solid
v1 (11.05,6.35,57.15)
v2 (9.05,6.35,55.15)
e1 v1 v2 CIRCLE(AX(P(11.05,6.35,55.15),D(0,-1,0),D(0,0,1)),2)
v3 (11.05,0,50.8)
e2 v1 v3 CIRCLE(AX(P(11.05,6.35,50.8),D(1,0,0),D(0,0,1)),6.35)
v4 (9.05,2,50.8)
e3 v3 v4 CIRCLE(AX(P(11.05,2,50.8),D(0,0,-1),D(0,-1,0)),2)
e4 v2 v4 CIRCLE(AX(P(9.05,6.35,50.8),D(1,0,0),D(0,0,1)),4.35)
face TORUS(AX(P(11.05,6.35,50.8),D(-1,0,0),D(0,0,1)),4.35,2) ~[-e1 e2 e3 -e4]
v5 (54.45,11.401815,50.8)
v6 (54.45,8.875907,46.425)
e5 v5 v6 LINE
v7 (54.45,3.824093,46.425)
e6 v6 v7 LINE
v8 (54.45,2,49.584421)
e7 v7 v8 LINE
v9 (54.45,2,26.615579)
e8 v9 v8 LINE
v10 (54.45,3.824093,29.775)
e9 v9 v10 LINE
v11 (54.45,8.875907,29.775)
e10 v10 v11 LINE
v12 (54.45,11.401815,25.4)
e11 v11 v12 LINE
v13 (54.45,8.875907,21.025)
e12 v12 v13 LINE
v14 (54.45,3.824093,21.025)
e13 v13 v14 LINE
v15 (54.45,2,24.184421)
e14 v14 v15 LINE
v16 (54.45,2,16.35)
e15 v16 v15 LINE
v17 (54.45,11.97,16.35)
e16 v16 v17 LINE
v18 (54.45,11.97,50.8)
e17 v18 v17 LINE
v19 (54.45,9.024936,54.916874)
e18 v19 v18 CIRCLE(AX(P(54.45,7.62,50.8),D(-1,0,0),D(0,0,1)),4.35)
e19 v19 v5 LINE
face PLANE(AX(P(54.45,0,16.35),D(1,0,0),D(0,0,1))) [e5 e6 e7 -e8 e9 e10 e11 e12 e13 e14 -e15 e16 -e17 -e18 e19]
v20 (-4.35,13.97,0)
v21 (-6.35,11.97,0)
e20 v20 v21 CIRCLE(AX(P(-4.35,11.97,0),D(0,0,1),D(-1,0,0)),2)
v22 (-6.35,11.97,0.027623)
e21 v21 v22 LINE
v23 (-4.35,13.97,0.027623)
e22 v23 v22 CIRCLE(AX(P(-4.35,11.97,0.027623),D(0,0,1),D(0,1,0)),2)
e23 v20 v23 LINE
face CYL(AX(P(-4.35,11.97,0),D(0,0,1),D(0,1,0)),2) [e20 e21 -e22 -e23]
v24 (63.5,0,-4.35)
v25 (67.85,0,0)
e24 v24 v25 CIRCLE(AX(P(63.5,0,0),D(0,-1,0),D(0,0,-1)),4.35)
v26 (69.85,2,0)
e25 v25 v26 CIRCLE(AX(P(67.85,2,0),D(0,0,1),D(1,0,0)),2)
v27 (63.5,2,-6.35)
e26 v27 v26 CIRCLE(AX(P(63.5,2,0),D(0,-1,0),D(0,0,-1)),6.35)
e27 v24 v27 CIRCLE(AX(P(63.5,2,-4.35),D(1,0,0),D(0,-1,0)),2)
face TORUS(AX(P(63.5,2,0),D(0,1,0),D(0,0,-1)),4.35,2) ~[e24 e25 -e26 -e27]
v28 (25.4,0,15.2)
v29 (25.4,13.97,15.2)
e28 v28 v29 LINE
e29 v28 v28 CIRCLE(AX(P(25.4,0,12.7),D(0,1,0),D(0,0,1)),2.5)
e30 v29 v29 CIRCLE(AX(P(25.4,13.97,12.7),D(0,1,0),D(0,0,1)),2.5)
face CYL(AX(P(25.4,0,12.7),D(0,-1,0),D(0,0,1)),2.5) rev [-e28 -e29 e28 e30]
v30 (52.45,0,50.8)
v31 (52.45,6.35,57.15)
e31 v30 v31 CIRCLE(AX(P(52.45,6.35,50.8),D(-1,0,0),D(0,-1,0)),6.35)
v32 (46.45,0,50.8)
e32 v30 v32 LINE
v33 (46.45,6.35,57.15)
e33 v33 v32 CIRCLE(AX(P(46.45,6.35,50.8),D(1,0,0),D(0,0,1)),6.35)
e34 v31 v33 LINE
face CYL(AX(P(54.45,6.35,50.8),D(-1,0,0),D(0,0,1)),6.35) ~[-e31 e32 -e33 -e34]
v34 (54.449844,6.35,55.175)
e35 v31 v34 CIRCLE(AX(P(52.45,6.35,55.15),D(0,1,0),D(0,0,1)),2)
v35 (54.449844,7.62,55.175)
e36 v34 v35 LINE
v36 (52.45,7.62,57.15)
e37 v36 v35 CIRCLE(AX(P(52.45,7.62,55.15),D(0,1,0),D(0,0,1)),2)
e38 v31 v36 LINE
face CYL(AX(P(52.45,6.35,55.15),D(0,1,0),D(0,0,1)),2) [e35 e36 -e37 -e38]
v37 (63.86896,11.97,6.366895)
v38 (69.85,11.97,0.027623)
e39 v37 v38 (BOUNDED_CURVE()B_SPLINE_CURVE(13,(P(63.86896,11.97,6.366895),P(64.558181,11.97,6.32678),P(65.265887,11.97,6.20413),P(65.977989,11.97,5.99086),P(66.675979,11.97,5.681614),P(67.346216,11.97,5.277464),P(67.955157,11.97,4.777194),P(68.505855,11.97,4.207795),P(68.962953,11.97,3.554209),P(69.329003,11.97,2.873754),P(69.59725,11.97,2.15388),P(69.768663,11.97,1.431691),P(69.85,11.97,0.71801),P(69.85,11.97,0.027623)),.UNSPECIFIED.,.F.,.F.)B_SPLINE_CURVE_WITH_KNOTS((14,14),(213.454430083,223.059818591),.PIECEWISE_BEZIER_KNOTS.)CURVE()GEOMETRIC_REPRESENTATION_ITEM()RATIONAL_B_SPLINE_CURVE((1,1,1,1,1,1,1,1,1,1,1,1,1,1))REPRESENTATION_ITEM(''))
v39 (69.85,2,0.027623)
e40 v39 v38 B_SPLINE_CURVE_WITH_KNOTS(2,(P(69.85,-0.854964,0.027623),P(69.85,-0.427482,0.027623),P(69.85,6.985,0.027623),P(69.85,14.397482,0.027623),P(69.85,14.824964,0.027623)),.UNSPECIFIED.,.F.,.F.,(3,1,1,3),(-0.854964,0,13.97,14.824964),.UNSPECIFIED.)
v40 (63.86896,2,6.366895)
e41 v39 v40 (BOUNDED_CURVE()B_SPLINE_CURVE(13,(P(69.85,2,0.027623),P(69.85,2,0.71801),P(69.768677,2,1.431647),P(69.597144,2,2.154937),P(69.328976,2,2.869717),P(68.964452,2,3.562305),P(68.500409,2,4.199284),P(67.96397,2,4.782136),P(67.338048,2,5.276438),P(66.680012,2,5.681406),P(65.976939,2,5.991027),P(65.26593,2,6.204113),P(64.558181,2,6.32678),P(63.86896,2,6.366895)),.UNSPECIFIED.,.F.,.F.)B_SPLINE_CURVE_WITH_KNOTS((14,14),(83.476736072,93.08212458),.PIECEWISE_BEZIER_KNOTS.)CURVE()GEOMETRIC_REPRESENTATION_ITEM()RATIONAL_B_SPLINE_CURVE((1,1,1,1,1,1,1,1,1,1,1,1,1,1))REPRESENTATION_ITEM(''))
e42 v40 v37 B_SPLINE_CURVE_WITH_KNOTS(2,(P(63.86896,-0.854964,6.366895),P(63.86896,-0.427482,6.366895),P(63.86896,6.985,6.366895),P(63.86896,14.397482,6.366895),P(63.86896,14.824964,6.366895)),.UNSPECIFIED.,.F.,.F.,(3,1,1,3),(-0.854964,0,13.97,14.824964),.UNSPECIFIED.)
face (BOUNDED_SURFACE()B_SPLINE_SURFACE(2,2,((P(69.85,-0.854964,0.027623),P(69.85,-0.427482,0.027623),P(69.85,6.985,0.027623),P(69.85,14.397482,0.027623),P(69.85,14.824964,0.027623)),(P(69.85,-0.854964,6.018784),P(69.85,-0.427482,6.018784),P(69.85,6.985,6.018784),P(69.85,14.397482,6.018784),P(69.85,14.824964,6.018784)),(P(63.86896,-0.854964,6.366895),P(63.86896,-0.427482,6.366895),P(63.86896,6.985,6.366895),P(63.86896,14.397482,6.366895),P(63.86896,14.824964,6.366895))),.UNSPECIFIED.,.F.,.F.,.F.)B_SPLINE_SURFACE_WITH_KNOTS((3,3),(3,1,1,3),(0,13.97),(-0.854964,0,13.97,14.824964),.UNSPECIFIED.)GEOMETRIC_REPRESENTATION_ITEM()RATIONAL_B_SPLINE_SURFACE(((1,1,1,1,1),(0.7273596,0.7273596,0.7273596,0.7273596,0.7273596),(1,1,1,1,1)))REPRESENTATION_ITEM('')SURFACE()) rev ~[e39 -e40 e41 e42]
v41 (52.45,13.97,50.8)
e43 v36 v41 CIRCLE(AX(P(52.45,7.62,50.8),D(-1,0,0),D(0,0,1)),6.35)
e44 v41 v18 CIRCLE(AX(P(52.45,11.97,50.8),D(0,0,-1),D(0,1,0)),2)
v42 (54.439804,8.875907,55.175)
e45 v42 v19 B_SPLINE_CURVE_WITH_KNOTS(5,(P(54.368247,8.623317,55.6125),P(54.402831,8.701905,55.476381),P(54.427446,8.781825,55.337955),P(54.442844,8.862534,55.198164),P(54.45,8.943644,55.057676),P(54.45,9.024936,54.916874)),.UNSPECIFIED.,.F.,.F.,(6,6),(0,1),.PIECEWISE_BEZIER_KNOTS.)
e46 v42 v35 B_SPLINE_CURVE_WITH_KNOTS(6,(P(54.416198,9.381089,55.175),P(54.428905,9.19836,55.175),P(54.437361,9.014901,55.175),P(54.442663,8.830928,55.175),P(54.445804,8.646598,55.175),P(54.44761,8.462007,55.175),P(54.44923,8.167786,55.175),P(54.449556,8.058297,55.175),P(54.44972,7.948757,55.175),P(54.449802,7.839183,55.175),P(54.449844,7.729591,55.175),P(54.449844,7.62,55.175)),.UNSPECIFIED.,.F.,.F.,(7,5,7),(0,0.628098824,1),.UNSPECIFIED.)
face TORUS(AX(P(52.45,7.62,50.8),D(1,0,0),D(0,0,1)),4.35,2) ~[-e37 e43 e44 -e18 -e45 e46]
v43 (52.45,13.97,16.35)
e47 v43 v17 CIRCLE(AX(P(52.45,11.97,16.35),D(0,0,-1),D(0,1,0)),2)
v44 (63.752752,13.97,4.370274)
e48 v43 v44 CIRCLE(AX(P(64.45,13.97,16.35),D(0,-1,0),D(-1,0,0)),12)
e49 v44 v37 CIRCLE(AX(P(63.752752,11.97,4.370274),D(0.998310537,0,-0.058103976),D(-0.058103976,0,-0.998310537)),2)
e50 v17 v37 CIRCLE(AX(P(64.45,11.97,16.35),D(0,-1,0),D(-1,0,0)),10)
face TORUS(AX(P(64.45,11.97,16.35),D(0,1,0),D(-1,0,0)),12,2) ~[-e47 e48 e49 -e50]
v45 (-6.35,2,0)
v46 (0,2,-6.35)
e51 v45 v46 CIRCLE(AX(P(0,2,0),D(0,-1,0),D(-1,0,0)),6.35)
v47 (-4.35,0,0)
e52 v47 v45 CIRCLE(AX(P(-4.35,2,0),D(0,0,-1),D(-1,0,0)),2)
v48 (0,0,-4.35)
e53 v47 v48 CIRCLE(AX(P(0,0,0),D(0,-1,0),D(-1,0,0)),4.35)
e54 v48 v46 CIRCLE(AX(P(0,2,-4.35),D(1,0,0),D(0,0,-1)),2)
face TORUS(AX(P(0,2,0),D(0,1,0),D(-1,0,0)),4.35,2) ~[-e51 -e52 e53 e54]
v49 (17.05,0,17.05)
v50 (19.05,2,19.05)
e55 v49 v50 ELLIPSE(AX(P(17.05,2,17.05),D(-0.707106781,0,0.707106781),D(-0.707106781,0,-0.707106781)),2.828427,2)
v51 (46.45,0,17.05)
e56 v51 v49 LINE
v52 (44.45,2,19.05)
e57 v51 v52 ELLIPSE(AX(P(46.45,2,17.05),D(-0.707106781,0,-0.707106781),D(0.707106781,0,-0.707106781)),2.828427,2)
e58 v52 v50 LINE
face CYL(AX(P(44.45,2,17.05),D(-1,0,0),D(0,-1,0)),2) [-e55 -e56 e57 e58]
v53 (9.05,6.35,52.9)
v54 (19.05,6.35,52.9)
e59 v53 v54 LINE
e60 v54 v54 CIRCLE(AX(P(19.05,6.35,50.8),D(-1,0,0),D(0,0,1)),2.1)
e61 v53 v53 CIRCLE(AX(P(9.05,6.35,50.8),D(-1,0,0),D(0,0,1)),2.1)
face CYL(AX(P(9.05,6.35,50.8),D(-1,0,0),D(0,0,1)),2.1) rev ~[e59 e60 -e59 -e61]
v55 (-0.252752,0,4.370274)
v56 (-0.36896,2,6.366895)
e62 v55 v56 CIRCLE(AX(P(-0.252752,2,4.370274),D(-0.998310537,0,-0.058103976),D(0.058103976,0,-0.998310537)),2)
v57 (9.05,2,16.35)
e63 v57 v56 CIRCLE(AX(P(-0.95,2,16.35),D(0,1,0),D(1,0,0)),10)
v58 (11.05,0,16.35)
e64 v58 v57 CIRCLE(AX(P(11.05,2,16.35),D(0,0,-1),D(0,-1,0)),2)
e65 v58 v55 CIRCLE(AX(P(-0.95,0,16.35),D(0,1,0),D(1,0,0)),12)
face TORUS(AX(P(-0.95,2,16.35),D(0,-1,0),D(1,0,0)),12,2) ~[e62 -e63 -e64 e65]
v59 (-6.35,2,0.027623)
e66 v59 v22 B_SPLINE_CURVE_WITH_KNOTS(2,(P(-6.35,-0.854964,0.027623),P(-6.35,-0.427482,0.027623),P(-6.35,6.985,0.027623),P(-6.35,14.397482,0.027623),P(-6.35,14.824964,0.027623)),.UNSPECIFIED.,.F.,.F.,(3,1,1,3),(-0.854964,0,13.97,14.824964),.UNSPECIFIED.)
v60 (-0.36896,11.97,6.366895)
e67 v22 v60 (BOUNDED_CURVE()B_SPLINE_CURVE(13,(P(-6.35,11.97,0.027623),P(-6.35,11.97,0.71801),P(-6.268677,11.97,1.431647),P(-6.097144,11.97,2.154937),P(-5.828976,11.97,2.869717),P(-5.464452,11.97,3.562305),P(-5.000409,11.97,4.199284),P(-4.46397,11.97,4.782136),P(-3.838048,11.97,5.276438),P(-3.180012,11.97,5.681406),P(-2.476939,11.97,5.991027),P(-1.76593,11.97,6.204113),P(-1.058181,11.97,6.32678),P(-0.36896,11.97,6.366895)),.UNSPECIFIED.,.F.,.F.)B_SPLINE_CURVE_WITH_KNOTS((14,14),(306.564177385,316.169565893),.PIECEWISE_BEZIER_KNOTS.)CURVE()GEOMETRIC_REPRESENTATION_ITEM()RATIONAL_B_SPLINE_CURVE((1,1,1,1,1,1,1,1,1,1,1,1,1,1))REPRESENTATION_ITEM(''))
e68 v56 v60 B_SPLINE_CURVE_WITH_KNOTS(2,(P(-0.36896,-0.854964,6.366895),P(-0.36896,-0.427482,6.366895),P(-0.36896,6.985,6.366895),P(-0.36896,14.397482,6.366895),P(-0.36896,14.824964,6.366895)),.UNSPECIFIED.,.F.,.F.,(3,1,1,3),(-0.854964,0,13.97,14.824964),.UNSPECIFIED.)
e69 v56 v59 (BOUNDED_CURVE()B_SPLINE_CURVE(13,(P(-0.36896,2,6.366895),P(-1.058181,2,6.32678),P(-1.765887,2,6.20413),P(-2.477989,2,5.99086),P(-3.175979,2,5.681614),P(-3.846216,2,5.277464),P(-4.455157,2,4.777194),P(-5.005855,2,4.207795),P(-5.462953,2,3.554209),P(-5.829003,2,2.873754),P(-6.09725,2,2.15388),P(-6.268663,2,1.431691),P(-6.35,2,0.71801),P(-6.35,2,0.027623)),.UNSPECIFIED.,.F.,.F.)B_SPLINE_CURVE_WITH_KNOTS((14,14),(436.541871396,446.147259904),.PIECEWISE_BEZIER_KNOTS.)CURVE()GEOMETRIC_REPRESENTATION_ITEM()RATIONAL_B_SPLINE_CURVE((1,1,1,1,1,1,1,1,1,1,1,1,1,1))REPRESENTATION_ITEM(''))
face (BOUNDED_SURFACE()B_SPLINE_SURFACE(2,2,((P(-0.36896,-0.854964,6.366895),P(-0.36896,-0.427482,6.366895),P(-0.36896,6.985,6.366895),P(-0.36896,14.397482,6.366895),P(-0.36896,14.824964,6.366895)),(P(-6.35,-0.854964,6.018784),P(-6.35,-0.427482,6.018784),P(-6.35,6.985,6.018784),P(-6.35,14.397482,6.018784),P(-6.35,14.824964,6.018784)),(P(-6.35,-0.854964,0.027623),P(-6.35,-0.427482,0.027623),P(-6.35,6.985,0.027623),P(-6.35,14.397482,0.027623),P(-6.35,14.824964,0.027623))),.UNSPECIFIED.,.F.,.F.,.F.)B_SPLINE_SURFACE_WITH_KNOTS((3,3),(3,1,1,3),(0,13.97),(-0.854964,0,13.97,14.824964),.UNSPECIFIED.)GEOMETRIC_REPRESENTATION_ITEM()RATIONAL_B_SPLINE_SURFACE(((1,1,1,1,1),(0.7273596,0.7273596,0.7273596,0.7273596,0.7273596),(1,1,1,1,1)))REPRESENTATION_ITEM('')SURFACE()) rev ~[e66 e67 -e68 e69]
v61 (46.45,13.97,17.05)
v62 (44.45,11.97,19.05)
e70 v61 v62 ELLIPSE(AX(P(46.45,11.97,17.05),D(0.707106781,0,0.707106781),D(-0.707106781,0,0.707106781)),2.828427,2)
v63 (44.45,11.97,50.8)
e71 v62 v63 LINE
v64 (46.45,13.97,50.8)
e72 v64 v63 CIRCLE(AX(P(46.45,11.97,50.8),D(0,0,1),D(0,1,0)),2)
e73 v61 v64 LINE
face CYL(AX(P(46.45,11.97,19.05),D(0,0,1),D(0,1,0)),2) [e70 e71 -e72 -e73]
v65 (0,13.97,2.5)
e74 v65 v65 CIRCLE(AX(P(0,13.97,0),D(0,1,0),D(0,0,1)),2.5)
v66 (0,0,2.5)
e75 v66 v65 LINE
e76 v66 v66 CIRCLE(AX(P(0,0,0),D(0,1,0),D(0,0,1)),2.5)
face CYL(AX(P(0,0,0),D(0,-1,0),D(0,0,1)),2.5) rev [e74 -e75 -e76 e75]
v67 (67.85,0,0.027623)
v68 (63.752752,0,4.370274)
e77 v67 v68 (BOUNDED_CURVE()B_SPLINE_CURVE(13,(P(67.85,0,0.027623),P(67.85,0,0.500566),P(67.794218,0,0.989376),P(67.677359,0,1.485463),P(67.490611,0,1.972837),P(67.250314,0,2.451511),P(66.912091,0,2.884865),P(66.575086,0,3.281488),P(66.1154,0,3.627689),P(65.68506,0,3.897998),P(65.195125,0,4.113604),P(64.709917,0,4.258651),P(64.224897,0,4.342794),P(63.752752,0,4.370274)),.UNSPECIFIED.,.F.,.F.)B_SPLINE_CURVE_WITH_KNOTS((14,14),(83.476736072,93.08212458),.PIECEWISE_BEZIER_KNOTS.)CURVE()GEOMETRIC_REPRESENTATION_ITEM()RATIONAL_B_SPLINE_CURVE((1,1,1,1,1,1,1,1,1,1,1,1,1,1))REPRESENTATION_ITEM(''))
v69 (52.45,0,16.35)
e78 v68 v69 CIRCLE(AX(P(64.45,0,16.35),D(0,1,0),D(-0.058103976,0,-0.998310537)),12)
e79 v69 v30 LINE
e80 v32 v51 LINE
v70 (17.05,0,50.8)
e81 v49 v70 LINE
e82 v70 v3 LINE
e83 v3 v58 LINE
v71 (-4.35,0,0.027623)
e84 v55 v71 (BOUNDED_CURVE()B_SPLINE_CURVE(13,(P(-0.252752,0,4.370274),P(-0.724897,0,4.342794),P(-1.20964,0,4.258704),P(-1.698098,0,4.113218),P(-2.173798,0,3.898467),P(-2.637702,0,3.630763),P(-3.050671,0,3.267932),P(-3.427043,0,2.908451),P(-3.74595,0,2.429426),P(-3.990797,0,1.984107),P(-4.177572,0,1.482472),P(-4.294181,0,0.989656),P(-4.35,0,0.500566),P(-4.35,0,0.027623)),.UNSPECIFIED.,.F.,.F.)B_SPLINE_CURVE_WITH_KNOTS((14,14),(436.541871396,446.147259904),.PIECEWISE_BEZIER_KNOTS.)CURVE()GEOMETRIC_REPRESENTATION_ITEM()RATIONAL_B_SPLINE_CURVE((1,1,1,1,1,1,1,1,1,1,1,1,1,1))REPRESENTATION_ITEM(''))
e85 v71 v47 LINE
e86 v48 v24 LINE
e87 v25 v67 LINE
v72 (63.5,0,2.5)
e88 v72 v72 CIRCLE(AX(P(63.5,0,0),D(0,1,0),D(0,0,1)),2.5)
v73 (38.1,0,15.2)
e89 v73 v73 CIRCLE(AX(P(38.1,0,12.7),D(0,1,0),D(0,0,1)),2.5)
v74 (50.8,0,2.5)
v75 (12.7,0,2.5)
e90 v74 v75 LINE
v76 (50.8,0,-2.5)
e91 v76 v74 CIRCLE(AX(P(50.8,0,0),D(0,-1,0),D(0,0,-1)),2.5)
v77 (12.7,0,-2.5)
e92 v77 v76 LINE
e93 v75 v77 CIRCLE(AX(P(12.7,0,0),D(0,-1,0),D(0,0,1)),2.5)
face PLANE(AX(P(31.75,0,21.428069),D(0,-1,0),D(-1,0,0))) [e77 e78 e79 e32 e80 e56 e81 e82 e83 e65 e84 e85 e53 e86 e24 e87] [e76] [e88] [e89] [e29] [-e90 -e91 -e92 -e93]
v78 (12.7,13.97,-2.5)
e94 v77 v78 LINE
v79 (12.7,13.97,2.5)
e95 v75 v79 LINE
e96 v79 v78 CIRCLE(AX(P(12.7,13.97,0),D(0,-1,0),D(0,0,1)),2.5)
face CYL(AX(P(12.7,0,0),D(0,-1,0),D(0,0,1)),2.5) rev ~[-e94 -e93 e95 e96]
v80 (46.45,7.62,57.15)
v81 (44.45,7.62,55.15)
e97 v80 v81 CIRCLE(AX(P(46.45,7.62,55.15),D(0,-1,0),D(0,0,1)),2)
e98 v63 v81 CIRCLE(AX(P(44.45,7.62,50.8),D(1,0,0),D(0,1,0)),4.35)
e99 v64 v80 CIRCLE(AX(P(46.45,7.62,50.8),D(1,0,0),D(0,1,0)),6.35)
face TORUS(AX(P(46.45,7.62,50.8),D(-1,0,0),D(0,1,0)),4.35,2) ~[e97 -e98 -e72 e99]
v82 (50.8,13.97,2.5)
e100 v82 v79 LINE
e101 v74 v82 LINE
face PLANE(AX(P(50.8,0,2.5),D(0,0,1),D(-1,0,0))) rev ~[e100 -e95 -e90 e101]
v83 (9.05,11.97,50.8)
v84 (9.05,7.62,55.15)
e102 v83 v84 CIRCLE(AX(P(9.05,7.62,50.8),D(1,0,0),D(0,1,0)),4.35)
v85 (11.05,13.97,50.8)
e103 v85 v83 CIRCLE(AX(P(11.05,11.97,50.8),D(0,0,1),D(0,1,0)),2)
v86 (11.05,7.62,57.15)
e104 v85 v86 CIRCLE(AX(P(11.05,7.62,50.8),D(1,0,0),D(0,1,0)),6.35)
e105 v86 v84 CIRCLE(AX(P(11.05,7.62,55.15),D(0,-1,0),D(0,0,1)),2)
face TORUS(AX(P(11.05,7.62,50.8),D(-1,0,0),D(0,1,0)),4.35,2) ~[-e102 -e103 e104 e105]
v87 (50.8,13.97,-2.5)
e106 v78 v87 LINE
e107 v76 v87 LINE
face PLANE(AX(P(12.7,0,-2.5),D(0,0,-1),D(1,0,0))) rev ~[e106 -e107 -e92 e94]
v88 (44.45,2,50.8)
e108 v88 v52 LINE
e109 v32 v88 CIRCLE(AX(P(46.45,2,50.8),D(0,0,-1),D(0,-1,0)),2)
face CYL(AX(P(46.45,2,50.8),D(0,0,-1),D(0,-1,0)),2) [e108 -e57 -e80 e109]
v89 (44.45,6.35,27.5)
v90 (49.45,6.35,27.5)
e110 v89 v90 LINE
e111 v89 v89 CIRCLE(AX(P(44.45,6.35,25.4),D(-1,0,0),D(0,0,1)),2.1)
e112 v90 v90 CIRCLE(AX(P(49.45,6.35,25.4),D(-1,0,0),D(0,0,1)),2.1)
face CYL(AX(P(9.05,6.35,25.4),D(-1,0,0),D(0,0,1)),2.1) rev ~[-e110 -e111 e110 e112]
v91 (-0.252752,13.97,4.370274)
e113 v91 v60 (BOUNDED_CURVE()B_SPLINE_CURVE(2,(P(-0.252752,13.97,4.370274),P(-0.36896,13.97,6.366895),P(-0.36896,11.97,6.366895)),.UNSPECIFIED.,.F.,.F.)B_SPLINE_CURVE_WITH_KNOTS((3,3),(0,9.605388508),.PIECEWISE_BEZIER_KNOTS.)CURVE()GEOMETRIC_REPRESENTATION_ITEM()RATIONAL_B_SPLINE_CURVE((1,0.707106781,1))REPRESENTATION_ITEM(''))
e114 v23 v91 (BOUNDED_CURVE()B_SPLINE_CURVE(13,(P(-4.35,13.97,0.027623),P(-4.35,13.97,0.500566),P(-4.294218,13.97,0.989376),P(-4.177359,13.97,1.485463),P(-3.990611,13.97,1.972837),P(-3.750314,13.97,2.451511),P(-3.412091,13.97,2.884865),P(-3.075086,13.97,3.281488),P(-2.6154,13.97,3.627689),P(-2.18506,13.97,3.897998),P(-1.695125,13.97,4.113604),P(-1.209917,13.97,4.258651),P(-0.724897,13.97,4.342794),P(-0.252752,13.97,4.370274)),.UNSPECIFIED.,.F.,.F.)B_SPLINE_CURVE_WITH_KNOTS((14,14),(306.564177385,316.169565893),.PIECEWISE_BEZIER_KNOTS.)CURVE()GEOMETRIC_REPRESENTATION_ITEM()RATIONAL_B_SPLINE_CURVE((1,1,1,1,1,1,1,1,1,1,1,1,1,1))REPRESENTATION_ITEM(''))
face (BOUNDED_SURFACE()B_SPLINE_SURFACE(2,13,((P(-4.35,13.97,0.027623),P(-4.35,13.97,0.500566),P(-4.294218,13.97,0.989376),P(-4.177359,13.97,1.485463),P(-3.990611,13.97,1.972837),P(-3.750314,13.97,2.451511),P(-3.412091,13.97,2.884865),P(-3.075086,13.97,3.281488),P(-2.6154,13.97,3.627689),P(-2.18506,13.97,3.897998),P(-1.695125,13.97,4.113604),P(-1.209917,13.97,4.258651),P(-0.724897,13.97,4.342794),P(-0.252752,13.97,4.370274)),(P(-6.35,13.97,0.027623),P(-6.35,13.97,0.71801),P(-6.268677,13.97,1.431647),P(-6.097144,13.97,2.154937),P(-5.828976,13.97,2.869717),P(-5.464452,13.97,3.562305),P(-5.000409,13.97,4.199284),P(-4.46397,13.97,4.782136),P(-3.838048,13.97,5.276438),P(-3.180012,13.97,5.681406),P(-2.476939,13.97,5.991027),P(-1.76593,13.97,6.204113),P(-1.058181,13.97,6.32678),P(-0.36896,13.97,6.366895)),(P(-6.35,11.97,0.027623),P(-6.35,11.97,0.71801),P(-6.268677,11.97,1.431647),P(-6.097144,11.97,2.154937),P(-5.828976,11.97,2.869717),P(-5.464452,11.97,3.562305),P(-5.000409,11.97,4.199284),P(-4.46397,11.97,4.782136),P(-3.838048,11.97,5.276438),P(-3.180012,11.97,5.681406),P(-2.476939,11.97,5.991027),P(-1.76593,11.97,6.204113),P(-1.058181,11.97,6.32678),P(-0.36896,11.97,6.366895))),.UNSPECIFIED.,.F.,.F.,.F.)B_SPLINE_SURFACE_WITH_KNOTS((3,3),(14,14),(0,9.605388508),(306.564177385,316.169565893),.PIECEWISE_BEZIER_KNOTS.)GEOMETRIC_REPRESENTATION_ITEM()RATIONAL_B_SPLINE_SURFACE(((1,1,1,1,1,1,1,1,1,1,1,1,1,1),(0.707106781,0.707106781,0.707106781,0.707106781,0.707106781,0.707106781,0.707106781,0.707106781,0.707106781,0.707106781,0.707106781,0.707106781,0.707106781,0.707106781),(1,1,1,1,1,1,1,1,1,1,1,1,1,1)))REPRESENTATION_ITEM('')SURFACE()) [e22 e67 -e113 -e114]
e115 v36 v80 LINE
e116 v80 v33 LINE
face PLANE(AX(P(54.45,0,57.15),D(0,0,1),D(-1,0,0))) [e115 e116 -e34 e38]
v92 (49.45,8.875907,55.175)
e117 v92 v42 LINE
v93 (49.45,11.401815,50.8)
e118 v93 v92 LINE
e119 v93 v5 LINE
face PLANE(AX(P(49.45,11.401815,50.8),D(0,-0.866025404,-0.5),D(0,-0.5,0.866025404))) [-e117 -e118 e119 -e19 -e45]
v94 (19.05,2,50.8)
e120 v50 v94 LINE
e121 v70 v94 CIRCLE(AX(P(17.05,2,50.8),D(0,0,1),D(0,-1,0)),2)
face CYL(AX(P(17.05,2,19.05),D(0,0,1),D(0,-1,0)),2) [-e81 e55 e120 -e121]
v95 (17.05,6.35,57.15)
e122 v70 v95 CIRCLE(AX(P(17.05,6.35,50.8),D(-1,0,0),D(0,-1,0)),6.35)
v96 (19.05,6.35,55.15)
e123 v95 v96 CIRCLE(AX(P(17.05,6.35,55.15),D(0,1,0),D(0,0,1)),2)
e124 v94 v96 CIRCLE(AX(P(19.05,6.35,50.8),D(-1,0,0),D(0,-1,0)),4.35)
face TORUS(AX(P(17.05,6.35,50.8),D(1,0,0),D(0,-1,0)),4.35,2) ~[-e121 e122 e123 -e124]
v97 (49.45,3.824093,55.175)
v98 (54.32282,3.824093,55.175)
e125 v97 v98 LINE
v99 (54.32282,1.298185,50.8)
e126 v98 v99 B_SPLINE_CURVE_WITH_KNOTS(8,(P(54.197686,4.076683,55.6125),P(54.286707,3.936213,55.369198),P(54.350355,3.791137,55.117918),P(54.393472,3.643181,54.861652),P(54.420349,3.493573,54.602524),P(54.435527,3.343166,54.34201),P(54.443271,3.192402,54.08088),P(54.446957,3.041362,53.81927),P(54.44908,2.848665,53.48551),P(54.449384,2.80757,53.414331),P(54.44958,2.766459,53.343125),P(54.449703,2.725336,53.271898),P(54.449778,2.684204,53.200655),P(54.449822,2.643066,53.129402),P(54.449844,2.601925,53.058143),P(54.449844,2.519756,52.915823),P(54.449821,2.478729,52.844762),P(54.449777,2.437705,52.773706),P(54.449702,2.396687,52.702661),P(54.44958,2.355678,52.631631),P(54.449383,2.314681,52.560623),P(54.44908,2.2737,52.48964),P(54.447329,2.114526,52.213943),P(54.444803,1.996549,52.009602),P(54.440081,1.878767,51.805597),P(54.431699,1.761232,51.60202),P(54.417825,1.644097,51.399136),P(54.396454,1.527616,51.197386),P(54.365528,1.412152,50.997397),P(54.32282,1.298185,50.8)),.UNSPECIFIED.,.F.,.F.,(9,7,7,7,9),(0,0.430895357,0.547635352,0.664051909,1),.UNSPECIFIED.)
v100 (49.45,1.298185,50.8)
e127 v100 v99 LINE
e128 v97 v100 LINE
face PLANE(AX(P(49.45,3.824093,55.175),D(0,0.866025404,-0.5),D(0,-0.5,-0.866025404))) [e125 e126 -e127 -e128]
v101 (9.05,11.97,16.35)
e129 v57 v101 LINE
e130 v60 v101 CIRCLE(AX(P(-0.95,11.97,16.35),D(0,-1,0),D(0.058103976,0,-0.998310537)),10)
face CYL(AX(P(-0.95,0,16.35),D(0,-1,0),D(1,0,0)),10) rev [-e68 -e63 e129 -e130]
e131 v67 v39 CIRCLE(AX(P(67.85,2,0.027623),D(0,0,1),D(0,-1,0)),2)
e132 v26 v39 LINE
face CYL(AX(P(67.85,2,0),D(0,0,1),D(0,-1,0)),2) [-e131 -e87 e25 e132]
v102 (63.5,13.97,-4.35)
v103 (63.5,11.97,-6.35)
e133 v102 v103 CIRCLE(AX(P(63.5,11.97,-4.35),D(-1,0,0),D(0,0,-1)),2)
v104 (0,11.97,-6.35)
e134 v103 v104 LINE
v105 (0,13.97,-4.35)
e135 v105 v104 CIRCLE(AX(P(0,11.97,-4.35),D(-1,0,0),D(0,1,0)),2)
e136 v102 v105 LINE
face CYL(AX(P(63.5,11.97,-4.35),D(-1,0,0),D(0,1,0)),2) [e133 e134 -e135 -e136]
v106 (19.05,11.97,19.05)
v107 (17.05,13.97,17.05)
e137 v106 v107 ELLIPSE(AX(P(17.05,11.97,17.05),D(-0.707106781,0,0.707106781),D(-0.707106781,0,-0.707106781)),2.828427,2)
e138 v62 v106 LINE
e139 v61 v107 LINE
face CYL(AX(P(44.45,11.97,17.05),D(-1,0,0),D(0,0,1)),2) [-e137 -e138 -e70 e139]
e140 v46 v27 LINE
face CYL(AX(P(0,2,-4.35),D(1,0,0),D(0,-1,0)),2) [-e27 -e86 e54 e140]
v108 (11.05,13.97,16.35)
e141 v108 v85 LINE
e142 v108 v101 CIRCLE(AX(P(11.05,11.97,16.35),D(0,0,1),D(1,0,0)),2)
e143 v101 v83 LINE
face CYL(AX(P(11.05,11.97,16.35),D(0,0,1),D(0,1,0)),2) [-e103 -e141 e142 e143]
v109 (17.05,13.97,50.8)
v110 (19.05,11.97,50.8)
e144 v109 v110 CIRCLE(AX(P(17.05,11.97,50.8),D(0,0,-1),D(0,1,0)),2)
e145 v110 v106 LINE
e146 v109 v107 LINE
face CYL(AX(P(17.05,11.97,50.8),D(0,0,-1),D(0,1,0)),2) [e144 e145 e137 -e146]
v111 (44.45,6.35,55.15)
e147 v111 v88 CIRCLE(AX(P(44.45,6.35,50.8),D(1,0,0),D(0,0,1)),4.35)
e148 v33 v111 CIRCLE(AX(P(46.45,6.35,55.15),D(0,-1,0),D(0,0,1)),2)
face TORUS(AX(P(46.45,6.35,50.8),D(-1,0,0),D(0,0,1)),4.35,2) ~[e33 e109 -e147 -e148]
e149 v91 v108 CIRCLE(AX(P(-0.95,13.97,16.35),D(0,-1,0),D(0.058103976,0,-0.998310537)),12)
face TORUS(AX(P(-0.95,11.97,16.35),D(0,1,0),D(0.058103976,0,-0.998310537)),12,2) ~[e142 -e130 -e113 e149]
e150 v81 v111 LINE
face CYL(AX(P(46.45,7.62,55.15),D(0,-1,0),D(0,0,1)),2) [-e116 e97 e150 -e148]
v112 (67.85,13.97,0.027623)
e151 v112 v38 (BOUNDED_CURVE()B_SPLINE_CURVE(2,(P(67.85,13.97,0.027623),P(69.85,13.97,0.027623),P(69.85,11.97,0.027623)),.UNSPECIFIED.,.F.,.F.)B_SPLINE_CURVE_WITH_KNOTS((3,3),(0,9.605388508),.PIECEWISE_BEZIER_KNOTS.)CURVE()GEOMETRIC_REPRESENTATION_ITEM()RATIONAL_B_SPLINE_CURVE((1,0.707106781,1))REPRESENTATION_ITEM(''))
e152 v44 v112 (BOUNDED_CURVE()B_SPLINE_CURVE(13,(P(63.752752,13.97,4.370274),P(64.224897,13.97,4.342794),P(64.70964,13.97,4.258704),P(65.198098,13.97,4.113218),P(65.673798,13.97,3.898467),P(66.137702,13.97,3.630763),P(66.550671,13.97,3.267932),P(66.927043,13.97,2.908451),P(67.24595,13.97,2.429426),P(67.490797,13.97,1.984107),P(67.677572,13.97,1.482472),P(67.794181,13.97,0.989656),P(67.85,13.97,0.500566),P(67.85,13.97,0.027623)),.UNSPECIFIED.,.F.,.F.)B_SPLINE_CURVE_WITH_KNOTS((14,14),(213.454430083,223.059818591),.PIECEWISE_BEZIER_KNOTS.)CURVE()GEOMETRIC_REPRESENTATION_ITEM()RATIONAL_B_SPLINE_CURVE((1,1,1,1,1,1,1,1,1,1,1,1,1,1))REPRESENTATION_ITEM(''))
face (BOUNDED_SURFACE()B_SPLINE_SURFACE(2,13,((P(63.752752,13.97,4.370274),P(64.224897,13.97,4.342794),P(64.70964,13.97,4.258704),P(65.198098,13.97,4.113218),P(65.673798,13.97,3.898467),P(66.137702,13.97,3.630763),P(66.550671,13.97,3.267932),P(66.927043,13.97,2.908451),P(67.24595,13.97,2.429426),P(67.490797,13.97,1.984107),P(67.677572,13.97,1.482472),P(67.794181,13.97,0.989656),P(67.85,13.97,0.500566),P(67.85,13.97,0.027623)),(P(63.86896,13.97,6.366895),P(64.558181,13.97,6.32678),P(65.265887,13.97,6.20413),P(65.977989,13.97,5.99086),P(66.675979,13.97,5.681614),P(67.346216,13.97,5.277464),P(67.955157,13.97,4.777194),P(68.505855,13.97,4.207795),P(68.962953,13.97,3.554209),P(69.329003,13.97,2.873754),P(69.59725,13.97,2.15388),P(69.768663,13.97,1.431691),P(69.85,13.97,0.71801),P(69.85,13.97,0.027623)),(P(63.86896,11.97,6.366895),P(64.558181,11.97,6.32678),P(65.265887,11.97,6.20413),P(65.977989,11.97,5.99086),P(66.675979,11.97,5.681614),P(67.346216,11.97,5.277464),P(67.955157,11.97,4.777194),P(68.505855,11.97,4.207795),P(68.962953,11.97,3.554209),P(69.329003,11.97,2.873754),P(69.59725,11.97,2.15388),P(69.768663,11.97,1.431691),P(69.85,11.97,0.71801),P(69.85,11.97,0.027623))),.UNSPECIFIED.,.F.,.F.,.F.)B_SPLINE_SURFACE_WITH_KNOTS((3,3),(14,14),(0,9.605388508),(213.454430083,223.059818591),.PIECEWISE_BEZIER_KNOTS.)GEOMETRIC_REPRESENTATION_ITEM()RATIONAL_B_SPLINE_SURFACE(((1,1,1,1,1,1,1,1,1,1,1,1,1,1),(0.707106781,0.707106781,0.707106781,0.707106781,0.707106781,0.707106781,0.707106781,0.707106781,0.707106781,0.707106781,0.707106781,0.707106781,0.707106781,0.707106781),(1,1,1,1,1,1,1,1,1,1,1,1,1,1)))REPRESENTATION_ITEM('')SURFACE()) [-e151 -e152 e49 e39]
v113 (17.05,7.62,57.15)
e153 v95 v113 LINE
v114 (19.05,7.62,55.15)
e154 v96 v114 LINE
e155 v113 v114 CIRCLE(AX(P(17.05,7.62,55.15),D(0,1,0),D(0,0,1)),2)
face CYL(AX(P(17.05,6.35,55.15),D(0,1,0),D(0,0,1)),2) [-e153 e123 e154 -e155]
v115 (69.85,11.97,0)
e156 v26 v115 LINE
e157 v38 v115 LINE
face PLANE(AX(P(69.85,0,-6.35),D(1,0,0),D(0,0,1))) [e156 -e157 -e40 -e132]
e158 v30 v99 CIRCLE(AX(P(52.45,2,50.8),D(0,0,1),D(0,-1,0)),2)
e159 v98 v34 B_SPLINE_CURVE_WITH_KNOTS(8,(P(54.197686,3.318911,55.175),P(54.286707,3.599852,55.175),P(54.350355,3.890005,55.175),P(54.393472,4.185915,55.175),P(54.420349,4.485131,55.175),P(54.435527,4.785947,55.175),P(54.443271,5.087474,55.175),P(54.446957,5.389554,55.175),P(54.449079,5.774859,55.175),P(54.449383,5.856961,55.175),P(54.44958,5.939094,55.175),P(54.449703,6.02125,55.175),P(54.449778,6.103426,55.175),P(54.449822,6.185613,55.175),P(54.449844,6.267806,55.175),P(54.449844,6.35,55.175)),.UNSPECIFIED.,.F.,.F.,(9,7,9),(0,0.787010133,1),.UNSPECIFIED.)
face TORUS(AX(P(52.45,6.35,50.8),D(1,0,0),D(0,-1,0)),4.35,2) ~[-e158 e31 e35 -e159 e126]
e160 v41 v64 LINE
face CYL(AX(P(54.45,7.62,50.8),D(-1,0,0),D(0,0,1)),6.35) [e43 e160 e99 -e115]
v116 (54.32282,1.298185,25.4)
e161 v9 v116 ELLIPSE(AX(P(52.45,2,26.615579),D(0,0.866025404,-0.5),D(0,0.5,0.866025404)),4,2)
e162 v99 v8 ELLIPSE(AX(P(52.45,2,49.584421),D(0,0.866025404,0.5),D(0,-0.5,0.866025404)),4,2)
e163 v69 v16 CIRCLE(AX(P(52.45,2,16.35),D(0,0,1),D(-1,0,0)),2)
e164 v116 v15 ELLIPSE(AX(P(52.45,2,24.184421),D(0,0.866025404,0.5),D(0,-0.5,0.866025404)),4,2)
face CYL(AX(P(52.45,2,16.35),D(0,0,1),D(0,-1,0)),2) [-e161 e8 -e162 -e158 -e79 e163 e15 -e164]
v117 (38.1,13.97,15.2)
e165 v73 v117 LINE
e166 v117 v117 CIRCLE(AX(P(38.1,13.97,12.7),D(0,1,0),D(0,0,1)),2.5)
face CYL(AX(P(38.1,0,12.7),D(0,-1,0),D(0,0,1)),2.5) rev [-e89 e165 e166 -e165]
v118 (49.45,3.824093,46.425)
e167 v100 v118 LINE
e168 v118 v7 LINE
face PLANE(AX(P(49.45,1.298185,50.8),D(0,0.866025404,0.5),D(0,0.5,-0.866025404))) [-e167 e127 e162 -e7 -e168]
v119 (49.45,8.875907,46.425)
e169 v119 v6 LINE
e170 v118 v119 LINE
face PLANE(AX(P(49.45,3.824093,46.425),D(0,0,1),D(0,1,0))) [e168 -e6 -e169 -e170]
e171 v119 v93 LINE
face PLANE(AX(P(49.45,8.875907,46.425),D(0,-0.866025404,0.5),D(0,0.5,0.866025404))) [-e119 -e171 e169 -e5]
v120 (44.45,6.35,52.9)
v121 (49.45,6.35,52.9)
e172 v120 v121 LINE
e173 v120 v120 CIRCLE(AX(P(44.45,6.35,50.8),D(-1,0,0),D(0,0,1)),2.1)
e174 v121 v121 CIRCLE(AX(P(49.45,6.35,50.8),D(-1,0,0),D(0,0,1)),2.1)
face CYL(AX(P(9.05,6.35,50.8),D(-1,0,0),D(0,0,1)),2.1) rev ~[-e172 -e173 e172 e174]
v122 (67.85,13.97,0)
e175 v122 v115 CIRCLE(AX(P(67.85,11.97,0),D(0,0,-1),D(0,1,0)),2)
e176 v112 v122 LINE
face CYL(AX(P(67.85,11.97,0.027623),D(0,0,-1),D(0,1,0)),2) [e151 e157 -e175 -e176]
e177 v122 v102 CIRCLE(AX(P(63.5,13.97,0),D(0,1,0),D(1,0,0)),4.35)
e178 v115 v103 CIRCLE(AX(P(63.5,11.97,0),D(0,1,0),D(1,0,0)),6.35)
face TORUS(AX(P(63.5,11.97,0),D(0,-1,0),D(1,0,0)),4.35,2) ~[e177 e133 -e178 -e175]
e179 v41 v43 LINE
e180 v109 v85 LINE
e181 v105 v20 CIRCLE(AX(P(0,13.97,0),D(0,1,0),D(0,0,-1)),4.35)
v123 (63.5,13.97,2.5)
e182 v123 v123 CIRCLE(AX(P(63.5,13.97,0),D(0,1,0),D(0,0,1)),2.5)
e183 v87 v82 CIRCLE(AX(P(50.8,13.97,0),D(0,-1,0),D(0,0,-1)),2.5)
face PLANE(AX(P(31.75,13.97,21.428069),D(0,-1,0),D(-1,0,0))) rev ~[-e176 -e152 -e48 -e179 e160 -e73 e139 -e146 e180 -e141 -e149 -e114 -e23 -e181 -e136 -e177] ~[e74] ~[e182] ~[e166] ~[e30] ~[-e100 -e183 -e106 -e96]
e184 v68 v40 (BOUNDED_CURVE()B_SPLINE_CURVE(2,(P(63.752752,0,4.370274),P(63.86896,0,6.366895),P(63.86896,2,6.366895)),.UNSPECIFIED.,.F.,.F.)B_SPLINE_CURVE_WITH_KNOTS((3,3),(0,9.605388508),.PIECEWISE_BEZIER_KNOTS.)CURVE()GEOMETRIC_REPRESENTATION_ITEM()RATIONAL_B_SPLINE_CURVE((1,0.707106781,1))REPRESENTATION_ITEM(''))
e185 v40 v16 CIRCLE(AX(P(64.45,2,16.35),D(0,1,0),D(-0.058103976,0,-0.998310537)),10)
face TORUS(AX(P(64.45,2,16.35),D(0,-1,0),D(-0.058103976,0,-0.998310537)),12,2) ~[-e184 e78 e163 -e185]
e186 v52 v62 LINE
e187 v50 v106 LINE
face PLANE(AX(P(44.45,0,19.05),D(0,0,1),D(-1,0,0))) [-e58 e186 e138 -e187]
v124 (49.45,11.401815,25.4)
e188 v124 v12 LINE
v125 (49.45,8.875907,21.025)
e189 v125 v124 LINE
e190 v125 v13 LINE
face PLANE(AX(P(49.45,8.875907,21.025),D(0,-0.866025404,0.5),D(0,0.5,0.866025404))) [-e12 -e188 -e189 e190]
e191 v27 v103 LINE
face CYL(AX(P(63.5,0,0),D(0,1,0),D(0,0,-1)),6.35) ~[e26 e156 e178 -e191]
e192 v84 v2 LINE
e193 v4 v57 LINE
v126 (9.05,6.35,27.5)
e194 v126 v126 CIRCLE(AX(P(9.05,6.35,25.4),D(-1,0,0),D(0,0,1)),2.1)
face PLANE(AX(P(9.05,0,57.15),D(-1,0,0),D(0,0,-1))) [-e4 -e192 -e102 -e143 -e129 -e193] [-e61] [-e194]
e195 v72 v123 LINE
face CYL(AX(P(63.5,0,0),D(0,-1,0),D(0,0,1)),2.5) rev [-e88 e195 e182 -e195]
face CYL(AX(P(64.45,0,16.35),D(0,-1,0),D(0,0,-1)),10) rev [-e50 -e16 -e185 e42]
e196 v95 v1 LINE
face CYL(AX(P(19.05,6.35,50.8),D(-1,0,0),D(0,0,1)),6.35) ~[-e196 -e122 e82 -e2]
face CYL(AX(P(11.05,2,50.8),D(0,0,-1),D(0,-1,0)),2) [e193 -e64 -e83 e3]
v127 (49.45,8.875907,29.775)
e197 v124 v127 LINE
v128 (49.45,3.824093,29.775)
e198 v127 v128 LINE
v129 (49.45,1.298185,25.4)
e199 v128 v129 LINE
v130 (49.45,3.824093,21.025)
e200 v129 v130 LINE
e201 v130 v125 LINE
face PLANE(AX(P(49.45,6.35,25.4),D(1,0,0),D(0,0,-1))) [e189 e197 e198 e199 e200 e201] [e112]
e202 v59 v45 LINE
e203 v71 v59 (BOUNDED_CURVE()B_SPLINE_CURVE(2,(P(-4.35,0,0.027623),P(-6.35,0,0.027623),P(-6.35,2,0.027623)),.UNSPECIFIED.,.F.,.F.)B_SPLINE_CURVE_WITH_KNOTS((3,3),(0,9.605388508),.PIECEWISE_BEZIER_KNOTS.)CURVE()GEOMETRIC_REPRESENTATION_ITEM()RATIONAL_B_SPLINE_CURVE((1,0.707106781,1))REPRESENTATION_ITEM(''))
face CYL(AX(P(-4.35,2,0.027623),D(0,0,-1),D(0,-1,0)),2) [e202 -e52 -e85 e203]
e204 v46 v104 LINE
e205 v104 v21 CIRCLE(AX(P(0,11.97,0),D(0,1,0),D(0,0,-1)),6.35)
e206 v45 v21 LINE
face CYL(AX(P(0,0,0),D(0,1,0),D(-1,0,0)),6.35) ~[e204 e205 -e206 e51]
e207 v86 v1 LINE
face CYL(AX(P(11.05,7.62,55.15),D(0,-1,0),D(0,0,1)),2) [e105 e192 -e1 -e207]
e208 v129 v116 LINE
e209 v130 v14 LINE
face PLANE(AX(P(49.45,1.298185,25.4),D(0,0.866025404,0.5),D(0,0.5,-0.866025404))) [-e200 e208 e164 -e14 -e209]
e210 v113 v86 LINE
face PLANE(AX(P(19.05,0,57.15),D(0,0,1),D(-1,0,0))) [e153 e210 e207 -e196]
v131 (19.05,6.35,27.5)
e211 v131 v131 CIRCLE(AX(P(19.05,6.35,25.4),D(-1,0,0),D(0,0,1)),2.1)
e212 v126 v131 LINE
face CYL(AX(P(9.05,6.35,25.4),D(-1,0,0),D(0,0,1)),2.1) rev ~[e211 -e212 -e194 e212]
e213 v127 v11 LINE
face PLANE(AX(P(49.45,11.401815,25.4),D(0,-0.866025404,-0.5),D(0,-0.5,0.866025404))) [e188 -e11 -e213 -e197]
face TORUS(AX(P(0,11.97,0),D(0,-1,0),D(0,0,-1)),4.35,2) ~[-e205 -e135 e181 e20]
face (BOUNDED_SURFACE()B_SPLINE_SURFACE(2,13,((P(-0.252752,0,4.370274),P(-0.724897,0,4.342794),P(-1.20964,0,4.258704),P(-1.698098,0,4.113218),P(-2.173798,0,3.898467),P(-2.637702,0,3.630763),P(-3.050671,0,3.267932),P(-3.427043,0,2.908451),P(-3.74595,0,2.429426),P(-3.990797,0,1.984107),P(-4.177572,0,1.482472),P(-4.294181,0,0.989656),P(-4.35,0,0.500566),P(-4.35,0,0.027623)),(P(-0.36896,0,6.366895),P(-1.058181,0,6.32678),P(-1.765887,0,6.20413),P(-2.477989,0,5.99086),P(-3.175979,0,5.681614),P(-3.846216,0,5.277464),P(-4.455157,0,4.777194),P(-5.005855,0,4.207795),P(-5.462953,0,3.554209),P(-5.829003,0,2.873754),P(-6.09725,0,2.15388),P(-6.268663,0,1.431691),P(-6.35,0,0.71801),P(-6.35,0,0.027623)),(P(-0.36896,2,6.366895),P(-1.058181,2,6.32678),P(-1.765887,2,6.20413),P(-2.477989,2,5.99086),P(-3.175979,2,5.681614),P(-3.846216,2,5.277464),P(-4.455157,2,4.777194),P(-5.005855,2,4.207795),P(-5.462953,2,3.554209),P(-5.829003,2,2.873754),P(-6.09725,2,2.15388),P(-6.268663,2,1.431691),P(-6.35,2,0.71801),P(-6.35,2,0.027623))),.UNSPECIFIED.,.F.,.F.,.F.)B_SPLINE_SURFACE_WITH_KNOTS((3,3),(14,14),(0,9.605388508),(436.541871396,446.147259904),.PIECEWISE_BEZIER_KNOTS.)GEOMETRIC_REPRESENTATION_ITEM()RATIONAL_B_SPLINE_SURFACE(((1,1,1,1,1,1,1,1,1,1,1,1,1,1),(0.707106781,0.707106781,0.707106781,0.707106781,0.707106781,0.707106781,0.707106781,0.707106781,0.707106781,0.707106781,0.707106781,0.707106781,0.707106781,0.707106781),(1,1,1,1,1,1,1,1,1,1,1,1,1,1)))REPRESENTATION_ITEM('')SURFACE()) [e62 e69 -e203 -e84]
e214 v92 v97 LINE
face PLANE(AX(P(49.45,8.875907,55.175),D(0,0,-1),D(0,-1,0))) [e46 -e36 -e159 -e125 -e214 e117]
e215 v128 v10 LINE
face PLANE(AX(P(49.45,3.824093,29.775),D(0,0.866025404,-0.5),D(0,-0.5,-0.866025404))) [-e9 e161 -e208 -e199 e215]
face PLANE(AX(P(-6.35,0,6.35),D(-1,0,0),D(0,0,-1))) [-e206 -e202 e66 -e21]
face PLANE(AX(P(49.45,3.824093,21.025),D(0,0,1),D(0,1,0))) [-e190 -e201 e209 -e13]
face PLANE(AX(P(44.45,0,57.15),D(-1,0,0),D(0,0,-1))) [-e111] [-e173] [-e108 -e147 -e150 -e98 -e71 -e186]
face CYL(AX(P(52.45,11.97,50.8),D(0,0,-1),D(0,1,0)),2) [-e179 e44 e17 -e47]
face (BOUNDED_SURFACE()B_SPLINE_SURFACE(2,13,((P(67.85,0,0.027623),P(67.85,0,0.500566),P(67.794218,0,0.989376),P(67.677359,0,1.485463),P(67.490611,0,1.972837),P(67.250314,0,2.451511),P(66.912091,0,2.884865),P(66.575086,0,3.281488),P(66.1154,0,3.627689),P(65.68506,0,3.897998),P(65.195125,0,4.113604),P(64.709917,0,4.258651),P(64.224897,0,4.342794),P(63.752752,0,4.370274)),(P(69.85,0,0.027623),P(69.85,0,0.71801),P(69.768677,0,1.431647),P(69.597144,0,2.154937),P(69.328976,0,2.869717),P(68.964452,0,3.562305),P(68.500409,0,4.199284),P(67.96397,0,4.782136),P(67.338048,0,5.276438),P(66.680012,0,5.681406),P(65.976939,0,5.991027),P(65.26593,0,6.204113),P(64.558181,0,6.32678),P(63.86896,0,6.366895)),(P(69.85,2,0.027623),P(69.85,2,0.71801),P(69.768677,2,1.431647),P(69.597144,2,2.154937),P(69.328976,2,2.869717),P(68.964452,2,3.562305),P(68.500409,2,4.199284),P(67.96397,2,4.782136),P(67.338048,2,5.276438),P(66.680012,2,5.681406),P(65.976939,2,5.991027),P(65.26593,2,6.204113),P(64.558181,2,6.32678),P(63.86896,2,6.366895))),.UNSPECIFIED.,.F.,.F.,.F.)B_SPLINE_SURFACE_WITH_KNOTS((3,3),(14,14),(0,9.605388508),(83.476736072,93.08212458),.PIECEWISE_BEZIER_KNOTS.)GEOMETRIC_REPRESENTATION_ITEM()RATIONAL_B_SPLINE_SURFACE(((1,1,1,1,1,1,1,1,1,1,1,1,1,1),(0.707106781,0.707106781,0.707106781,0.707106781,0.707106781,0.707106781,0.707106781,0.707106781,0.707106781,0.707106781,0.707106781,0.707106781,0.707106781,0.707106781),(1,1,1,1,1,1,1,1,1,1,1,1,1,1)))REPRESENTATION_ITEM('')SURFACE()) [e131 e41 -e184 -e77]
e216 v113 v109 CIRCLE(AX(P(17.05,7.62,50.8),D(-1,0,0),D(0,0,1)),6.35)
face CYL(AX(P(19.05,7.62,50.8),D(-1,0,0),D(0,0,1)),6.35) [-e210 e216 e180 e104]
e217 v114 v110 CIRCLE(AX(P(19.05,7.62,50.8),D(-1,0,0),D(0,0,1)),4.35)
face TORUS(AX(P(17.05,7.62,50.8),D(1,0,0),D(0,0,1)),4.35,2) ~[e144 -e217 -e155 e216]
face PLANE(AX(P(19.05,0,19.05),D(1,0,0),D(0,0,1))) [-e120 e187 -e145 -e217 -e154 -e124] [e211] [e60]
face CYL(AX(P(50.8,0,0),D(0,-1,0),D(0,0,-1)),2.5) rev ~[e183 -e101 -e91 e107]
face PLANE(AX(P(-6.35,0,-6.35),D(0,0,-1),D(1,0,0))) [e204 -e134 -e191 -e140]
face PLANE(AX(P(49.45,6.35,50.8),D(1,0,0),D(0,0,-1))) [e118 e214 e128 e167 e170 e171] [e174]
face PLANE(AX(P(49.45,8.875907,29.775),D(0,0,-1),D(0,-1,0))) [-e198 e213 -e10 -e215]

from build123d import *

# Parameters (mm, degrees)
SKETCH1_R               = 2.5
BOSS_EXTRUDE2_DEPTH     = 13.97
FILLET1_R               = 6.35
FILLET2_R               = 6.35
FILLET3_R               = 2
CUT_EXTRUDE1_REACH      = 86.605
SKETCH2_R               = 2.1
CUT_EXTRUDE4_DEPTH      = 12.7
CUT_EXTRUDE4_DEPTH_BACK = 5
FILLET4_R               = 2


with BuildPart() as part:
    # Sketch1 → Boss-Extrude2 (new body)
    with BuildSketch(Plane(origin=(0, 0, 0), x_dir=(1, 0, 0), z_dir=(0, 1, 0))):
        with BuildLine():
            Line((-6.35, 6.35), (69.85, 6.35))
            Line((69.85, 6.35), (69.85, -6.35))
            Line((69.85, -6.35), (64.45, -6.35))
            ThreePointArc((64.45, -6.35), (57.378932188, -9.278932188), (54.45, -16.35))
            Line((54.45, -16.35), (54.45, -57.15))
            Line((54.45, -57.15), (44.45, -57.15))
            Line((44.45, -57.15), (44.45, -19.05))
            Line((44.45, -19.05), (19.05, -19.05))
            Line((19.05, -19.05), (19.05, -57.15))
            Line((19.05, -57.15), (9.05, -57.15))
            Line((9.05, -57.15), (9.05, -16.35))
            ThreePointArc((9.05, -16.35), (6.121067812, -9.278932188), (-0.95, -6.35))
            Line((-0.95, -6.35), (-6.35, -6.35))
            Line((-6.35, -6.35), (-6.35, 6.35))
        make_face()
        with Locations(Location((0, 0, 0), (0, 0, 270))):
            Circle(SKETCH1_R, mode=Mode.SUBTRACT)
        with Locations(Location((63.5, 0, 0), (0, 0, 270))):
            Circle(SKETCH1_R, mode=Mode.SUBTRACT)
        with Locations(Location((38.1, -12.7, 0), (0, 0, 270))):
            Circle(SKETCH1_R, mode=Mode.SUBTRACT)
        with Locations(Location((25.4, -12.7, 0), (0, 0, 270))):
            Circle(SKETCH1_R, mode=Mode.SUBTRACT)
        with BuildLine():
            Line((12.7, 2.5), (50.8, 2.5))
            ThreePointArc((50.8, 2.5), (53.3, 0), (50.8, -2.5))
            Line((50.8, -2.5), (12.7, -2.5))
            ThreePointArc((12.7, -2.5), (10.2, 0), (12.7, 2.5))
        make_face(mode=Mode.SUBTRACT)
    extrude(amount=BOSS_EXTRUDE2_DEPTH)

    # Fillet1
    fillet1_edges = [part.edges().sort_by_distance(p)[0] for p in [
        (49.45, 0, 57.15),
        (14.05, 0, 57.15),
        (14.05, 13.97, 57.15),
        (49.45, 13.97, 57.15),
    ]]
    fillet(fillet1_edges, radius=FILLET1_R)

    # Fillet2
    fillet2_edges = [part.edges().sort_by_distance(p)[0] for p in [
        (69.85, 6.985, 6.35),
        (69.85, 6.985, -6.35),
        (-6.35, 6.985, -6.35),
        (-6.35, 6.985, 6.35),
    ]]
    fillet(fillet2_edges, radius=FILLET2_R)

    # Fillet3
    fillet3_edges = [part.edges().sort_by_distance(p)[0] for p in [
        (-4.490128061, 0, -4.490128061),
        (67.990128061, 0, -4.490128061),
        (68.11873346, 0, 4.385351629),
        (31.75, 13.97, -6.35),
        (-6.35, 13.97, 0.013811361),
        (6.323596, 13.97, 9.487434793),
        (-4.61873346, 13.97, 4.385351629),
        (-4.490128061, 13.97, -4.490128061),
        (67.990128061, 13.97, -4.490128061),
        (68.11873346, 13.97, 4.385351629),
        (9.05, 0, 33.575),
        (57.176404, 0, 9.487434793),
        (9.05, 13.97, 33.575),
        (57.176404, 13.97, 9.487434793),
        (54.45, 6.985, 57.15),
        (54.45, 0, 33.575),
        (54.45, 13.97, 33.575),
        (54.45, 12.110128061, 55.290128061),
        (54.45, 1.859871939, 55.290128061),
        (9.05, 6.985, 57.15),
        (9.05, 12.110128061, 55.290128061),
        (9.05, 1.859871939, 55.290128061),
        (69.85, 0, 0.013811361),
        (69.85, 13.97, 0.013811361),
        (6.323596, 0, 9.487434793),
        (-6.35, 0, 0.013811361),
        (31.75, 0, -6.35),
        (-4.61873346, 0, 4.385351629),
    ]]
    fillet(fillet3_edges, radius=FILLET3_R)

    # Cut-Extrude1: up to this face of the body (flat: up to its plane)
    cut_extrude1_end = Plane(part.part.faces().sort_by_distance((54.45, 6.985, 35.354800331))[0])
    # Sketch2 → Cut-Extrude1 (cut, up to the picked face)
    with BuildSketch(Plane.ZY.offset(-9.05), mode=Mode.PRIVATE) as cut_extrude1_sk1:
        with Locations((50.8, 6.35)):
            Circle(SKETCH2_R)
    cut_extrude1_tool1 = split(extrude(cut_extrude1_sk1.sketch, amount=-CUT_EXTRUDE1_REACH, mode=Mode.PRIVATE), bisect_by=cut_extrude1_end, keep=Keep.BOTH, mode=Mode.PRIVATE)
    # Sketch2 → Cut-Extrude1 (cut, up to the picked face)
    with BuildSketch(Plane.ZY.offset(-9.05), mode=Mode.PRIVATE) as cut_extrude1_sk2:
        with Locations((25.4, 6.35)):
            Circle(SKETCH2_R)
    cut_extrude1_tool2 = split(extrude(cut_extrude1_sk2.sketch, amount=-CUT_EXTRUDE1_REACH, mode=Mode.PRIVATE), bisect_by=cut_extrude1_end, keep=Keep.BOTH, mode=Mode.PRIVATE)
    add(cut_extrude1_tool1.solids().sort_by(Axis((9.05, 6.35, 50.8), (1, 0, 0)))[0], mode=Mode.SUBTRACT)
    add(cut_extrude1_tool2.solids().sort_by(Axis((9.05, 6.35, 25.4), (1, 0, 0)))[0], mode=Mode.SUBTRACT)

    # Sketch3 → Cut-Extrude4 (cut, two sides: drawn at the far end of the back side and taken through both)
    with BuildSketch(Plane(origin=(54.45, 0, 0), x_dir=(0, 0, -1), z_dir=(1, 0, 0)).offset(-CUT_EXTRUDE4_DEPTH_BACK)):
        Polygon((-25.4, 1.298185145), (-21.025, 3.824092572), (-21.025, 8.875907428), (-25.4, 11.401814855), (-29.775, 8.875907428), (-29.775, 3.824092572), align=None)
        Polygon((-50.8, 1.298185145), (-46.425, 3.824092572), (-46.425, 8.875907428), (-50.8, 11.401814855), (-55.175, 8.875907428), (-55.175, 3.824092572), align=None)
    extrude(amount=CUT_EXTRUDE4_DEPTH + CUT_EXTRUDE4_DEPTH_BACK, mode=Mode.SUBTRACT)

    # Fillet4
    fillet4_edges = [part.edges().sort_by_distance(p)[0] for p in [
        (44.45, 0, 34.925),
        (31.75, 0, 19.05),
        (31.75, 13.97, 19.05),
        (44.45, 13.97, 34.925),
        (44.45, 6.985, 57.15),
        (19.05, 0, 34.925),
        (44.45, 12.110128061, 55.290128061),
        (44.45, 1.859871939, 55.290128061),
        (19.05, 13.97, 34.925),
        (19.05, 6.985, 57.15),
        (19.05, 12.110128061, 55.290128061),
        (19.05, 1.859871939, 55.290128061),
    ]]
    fillet(fillet4_edges, radius=FILLET4_R)


solid = part.part
